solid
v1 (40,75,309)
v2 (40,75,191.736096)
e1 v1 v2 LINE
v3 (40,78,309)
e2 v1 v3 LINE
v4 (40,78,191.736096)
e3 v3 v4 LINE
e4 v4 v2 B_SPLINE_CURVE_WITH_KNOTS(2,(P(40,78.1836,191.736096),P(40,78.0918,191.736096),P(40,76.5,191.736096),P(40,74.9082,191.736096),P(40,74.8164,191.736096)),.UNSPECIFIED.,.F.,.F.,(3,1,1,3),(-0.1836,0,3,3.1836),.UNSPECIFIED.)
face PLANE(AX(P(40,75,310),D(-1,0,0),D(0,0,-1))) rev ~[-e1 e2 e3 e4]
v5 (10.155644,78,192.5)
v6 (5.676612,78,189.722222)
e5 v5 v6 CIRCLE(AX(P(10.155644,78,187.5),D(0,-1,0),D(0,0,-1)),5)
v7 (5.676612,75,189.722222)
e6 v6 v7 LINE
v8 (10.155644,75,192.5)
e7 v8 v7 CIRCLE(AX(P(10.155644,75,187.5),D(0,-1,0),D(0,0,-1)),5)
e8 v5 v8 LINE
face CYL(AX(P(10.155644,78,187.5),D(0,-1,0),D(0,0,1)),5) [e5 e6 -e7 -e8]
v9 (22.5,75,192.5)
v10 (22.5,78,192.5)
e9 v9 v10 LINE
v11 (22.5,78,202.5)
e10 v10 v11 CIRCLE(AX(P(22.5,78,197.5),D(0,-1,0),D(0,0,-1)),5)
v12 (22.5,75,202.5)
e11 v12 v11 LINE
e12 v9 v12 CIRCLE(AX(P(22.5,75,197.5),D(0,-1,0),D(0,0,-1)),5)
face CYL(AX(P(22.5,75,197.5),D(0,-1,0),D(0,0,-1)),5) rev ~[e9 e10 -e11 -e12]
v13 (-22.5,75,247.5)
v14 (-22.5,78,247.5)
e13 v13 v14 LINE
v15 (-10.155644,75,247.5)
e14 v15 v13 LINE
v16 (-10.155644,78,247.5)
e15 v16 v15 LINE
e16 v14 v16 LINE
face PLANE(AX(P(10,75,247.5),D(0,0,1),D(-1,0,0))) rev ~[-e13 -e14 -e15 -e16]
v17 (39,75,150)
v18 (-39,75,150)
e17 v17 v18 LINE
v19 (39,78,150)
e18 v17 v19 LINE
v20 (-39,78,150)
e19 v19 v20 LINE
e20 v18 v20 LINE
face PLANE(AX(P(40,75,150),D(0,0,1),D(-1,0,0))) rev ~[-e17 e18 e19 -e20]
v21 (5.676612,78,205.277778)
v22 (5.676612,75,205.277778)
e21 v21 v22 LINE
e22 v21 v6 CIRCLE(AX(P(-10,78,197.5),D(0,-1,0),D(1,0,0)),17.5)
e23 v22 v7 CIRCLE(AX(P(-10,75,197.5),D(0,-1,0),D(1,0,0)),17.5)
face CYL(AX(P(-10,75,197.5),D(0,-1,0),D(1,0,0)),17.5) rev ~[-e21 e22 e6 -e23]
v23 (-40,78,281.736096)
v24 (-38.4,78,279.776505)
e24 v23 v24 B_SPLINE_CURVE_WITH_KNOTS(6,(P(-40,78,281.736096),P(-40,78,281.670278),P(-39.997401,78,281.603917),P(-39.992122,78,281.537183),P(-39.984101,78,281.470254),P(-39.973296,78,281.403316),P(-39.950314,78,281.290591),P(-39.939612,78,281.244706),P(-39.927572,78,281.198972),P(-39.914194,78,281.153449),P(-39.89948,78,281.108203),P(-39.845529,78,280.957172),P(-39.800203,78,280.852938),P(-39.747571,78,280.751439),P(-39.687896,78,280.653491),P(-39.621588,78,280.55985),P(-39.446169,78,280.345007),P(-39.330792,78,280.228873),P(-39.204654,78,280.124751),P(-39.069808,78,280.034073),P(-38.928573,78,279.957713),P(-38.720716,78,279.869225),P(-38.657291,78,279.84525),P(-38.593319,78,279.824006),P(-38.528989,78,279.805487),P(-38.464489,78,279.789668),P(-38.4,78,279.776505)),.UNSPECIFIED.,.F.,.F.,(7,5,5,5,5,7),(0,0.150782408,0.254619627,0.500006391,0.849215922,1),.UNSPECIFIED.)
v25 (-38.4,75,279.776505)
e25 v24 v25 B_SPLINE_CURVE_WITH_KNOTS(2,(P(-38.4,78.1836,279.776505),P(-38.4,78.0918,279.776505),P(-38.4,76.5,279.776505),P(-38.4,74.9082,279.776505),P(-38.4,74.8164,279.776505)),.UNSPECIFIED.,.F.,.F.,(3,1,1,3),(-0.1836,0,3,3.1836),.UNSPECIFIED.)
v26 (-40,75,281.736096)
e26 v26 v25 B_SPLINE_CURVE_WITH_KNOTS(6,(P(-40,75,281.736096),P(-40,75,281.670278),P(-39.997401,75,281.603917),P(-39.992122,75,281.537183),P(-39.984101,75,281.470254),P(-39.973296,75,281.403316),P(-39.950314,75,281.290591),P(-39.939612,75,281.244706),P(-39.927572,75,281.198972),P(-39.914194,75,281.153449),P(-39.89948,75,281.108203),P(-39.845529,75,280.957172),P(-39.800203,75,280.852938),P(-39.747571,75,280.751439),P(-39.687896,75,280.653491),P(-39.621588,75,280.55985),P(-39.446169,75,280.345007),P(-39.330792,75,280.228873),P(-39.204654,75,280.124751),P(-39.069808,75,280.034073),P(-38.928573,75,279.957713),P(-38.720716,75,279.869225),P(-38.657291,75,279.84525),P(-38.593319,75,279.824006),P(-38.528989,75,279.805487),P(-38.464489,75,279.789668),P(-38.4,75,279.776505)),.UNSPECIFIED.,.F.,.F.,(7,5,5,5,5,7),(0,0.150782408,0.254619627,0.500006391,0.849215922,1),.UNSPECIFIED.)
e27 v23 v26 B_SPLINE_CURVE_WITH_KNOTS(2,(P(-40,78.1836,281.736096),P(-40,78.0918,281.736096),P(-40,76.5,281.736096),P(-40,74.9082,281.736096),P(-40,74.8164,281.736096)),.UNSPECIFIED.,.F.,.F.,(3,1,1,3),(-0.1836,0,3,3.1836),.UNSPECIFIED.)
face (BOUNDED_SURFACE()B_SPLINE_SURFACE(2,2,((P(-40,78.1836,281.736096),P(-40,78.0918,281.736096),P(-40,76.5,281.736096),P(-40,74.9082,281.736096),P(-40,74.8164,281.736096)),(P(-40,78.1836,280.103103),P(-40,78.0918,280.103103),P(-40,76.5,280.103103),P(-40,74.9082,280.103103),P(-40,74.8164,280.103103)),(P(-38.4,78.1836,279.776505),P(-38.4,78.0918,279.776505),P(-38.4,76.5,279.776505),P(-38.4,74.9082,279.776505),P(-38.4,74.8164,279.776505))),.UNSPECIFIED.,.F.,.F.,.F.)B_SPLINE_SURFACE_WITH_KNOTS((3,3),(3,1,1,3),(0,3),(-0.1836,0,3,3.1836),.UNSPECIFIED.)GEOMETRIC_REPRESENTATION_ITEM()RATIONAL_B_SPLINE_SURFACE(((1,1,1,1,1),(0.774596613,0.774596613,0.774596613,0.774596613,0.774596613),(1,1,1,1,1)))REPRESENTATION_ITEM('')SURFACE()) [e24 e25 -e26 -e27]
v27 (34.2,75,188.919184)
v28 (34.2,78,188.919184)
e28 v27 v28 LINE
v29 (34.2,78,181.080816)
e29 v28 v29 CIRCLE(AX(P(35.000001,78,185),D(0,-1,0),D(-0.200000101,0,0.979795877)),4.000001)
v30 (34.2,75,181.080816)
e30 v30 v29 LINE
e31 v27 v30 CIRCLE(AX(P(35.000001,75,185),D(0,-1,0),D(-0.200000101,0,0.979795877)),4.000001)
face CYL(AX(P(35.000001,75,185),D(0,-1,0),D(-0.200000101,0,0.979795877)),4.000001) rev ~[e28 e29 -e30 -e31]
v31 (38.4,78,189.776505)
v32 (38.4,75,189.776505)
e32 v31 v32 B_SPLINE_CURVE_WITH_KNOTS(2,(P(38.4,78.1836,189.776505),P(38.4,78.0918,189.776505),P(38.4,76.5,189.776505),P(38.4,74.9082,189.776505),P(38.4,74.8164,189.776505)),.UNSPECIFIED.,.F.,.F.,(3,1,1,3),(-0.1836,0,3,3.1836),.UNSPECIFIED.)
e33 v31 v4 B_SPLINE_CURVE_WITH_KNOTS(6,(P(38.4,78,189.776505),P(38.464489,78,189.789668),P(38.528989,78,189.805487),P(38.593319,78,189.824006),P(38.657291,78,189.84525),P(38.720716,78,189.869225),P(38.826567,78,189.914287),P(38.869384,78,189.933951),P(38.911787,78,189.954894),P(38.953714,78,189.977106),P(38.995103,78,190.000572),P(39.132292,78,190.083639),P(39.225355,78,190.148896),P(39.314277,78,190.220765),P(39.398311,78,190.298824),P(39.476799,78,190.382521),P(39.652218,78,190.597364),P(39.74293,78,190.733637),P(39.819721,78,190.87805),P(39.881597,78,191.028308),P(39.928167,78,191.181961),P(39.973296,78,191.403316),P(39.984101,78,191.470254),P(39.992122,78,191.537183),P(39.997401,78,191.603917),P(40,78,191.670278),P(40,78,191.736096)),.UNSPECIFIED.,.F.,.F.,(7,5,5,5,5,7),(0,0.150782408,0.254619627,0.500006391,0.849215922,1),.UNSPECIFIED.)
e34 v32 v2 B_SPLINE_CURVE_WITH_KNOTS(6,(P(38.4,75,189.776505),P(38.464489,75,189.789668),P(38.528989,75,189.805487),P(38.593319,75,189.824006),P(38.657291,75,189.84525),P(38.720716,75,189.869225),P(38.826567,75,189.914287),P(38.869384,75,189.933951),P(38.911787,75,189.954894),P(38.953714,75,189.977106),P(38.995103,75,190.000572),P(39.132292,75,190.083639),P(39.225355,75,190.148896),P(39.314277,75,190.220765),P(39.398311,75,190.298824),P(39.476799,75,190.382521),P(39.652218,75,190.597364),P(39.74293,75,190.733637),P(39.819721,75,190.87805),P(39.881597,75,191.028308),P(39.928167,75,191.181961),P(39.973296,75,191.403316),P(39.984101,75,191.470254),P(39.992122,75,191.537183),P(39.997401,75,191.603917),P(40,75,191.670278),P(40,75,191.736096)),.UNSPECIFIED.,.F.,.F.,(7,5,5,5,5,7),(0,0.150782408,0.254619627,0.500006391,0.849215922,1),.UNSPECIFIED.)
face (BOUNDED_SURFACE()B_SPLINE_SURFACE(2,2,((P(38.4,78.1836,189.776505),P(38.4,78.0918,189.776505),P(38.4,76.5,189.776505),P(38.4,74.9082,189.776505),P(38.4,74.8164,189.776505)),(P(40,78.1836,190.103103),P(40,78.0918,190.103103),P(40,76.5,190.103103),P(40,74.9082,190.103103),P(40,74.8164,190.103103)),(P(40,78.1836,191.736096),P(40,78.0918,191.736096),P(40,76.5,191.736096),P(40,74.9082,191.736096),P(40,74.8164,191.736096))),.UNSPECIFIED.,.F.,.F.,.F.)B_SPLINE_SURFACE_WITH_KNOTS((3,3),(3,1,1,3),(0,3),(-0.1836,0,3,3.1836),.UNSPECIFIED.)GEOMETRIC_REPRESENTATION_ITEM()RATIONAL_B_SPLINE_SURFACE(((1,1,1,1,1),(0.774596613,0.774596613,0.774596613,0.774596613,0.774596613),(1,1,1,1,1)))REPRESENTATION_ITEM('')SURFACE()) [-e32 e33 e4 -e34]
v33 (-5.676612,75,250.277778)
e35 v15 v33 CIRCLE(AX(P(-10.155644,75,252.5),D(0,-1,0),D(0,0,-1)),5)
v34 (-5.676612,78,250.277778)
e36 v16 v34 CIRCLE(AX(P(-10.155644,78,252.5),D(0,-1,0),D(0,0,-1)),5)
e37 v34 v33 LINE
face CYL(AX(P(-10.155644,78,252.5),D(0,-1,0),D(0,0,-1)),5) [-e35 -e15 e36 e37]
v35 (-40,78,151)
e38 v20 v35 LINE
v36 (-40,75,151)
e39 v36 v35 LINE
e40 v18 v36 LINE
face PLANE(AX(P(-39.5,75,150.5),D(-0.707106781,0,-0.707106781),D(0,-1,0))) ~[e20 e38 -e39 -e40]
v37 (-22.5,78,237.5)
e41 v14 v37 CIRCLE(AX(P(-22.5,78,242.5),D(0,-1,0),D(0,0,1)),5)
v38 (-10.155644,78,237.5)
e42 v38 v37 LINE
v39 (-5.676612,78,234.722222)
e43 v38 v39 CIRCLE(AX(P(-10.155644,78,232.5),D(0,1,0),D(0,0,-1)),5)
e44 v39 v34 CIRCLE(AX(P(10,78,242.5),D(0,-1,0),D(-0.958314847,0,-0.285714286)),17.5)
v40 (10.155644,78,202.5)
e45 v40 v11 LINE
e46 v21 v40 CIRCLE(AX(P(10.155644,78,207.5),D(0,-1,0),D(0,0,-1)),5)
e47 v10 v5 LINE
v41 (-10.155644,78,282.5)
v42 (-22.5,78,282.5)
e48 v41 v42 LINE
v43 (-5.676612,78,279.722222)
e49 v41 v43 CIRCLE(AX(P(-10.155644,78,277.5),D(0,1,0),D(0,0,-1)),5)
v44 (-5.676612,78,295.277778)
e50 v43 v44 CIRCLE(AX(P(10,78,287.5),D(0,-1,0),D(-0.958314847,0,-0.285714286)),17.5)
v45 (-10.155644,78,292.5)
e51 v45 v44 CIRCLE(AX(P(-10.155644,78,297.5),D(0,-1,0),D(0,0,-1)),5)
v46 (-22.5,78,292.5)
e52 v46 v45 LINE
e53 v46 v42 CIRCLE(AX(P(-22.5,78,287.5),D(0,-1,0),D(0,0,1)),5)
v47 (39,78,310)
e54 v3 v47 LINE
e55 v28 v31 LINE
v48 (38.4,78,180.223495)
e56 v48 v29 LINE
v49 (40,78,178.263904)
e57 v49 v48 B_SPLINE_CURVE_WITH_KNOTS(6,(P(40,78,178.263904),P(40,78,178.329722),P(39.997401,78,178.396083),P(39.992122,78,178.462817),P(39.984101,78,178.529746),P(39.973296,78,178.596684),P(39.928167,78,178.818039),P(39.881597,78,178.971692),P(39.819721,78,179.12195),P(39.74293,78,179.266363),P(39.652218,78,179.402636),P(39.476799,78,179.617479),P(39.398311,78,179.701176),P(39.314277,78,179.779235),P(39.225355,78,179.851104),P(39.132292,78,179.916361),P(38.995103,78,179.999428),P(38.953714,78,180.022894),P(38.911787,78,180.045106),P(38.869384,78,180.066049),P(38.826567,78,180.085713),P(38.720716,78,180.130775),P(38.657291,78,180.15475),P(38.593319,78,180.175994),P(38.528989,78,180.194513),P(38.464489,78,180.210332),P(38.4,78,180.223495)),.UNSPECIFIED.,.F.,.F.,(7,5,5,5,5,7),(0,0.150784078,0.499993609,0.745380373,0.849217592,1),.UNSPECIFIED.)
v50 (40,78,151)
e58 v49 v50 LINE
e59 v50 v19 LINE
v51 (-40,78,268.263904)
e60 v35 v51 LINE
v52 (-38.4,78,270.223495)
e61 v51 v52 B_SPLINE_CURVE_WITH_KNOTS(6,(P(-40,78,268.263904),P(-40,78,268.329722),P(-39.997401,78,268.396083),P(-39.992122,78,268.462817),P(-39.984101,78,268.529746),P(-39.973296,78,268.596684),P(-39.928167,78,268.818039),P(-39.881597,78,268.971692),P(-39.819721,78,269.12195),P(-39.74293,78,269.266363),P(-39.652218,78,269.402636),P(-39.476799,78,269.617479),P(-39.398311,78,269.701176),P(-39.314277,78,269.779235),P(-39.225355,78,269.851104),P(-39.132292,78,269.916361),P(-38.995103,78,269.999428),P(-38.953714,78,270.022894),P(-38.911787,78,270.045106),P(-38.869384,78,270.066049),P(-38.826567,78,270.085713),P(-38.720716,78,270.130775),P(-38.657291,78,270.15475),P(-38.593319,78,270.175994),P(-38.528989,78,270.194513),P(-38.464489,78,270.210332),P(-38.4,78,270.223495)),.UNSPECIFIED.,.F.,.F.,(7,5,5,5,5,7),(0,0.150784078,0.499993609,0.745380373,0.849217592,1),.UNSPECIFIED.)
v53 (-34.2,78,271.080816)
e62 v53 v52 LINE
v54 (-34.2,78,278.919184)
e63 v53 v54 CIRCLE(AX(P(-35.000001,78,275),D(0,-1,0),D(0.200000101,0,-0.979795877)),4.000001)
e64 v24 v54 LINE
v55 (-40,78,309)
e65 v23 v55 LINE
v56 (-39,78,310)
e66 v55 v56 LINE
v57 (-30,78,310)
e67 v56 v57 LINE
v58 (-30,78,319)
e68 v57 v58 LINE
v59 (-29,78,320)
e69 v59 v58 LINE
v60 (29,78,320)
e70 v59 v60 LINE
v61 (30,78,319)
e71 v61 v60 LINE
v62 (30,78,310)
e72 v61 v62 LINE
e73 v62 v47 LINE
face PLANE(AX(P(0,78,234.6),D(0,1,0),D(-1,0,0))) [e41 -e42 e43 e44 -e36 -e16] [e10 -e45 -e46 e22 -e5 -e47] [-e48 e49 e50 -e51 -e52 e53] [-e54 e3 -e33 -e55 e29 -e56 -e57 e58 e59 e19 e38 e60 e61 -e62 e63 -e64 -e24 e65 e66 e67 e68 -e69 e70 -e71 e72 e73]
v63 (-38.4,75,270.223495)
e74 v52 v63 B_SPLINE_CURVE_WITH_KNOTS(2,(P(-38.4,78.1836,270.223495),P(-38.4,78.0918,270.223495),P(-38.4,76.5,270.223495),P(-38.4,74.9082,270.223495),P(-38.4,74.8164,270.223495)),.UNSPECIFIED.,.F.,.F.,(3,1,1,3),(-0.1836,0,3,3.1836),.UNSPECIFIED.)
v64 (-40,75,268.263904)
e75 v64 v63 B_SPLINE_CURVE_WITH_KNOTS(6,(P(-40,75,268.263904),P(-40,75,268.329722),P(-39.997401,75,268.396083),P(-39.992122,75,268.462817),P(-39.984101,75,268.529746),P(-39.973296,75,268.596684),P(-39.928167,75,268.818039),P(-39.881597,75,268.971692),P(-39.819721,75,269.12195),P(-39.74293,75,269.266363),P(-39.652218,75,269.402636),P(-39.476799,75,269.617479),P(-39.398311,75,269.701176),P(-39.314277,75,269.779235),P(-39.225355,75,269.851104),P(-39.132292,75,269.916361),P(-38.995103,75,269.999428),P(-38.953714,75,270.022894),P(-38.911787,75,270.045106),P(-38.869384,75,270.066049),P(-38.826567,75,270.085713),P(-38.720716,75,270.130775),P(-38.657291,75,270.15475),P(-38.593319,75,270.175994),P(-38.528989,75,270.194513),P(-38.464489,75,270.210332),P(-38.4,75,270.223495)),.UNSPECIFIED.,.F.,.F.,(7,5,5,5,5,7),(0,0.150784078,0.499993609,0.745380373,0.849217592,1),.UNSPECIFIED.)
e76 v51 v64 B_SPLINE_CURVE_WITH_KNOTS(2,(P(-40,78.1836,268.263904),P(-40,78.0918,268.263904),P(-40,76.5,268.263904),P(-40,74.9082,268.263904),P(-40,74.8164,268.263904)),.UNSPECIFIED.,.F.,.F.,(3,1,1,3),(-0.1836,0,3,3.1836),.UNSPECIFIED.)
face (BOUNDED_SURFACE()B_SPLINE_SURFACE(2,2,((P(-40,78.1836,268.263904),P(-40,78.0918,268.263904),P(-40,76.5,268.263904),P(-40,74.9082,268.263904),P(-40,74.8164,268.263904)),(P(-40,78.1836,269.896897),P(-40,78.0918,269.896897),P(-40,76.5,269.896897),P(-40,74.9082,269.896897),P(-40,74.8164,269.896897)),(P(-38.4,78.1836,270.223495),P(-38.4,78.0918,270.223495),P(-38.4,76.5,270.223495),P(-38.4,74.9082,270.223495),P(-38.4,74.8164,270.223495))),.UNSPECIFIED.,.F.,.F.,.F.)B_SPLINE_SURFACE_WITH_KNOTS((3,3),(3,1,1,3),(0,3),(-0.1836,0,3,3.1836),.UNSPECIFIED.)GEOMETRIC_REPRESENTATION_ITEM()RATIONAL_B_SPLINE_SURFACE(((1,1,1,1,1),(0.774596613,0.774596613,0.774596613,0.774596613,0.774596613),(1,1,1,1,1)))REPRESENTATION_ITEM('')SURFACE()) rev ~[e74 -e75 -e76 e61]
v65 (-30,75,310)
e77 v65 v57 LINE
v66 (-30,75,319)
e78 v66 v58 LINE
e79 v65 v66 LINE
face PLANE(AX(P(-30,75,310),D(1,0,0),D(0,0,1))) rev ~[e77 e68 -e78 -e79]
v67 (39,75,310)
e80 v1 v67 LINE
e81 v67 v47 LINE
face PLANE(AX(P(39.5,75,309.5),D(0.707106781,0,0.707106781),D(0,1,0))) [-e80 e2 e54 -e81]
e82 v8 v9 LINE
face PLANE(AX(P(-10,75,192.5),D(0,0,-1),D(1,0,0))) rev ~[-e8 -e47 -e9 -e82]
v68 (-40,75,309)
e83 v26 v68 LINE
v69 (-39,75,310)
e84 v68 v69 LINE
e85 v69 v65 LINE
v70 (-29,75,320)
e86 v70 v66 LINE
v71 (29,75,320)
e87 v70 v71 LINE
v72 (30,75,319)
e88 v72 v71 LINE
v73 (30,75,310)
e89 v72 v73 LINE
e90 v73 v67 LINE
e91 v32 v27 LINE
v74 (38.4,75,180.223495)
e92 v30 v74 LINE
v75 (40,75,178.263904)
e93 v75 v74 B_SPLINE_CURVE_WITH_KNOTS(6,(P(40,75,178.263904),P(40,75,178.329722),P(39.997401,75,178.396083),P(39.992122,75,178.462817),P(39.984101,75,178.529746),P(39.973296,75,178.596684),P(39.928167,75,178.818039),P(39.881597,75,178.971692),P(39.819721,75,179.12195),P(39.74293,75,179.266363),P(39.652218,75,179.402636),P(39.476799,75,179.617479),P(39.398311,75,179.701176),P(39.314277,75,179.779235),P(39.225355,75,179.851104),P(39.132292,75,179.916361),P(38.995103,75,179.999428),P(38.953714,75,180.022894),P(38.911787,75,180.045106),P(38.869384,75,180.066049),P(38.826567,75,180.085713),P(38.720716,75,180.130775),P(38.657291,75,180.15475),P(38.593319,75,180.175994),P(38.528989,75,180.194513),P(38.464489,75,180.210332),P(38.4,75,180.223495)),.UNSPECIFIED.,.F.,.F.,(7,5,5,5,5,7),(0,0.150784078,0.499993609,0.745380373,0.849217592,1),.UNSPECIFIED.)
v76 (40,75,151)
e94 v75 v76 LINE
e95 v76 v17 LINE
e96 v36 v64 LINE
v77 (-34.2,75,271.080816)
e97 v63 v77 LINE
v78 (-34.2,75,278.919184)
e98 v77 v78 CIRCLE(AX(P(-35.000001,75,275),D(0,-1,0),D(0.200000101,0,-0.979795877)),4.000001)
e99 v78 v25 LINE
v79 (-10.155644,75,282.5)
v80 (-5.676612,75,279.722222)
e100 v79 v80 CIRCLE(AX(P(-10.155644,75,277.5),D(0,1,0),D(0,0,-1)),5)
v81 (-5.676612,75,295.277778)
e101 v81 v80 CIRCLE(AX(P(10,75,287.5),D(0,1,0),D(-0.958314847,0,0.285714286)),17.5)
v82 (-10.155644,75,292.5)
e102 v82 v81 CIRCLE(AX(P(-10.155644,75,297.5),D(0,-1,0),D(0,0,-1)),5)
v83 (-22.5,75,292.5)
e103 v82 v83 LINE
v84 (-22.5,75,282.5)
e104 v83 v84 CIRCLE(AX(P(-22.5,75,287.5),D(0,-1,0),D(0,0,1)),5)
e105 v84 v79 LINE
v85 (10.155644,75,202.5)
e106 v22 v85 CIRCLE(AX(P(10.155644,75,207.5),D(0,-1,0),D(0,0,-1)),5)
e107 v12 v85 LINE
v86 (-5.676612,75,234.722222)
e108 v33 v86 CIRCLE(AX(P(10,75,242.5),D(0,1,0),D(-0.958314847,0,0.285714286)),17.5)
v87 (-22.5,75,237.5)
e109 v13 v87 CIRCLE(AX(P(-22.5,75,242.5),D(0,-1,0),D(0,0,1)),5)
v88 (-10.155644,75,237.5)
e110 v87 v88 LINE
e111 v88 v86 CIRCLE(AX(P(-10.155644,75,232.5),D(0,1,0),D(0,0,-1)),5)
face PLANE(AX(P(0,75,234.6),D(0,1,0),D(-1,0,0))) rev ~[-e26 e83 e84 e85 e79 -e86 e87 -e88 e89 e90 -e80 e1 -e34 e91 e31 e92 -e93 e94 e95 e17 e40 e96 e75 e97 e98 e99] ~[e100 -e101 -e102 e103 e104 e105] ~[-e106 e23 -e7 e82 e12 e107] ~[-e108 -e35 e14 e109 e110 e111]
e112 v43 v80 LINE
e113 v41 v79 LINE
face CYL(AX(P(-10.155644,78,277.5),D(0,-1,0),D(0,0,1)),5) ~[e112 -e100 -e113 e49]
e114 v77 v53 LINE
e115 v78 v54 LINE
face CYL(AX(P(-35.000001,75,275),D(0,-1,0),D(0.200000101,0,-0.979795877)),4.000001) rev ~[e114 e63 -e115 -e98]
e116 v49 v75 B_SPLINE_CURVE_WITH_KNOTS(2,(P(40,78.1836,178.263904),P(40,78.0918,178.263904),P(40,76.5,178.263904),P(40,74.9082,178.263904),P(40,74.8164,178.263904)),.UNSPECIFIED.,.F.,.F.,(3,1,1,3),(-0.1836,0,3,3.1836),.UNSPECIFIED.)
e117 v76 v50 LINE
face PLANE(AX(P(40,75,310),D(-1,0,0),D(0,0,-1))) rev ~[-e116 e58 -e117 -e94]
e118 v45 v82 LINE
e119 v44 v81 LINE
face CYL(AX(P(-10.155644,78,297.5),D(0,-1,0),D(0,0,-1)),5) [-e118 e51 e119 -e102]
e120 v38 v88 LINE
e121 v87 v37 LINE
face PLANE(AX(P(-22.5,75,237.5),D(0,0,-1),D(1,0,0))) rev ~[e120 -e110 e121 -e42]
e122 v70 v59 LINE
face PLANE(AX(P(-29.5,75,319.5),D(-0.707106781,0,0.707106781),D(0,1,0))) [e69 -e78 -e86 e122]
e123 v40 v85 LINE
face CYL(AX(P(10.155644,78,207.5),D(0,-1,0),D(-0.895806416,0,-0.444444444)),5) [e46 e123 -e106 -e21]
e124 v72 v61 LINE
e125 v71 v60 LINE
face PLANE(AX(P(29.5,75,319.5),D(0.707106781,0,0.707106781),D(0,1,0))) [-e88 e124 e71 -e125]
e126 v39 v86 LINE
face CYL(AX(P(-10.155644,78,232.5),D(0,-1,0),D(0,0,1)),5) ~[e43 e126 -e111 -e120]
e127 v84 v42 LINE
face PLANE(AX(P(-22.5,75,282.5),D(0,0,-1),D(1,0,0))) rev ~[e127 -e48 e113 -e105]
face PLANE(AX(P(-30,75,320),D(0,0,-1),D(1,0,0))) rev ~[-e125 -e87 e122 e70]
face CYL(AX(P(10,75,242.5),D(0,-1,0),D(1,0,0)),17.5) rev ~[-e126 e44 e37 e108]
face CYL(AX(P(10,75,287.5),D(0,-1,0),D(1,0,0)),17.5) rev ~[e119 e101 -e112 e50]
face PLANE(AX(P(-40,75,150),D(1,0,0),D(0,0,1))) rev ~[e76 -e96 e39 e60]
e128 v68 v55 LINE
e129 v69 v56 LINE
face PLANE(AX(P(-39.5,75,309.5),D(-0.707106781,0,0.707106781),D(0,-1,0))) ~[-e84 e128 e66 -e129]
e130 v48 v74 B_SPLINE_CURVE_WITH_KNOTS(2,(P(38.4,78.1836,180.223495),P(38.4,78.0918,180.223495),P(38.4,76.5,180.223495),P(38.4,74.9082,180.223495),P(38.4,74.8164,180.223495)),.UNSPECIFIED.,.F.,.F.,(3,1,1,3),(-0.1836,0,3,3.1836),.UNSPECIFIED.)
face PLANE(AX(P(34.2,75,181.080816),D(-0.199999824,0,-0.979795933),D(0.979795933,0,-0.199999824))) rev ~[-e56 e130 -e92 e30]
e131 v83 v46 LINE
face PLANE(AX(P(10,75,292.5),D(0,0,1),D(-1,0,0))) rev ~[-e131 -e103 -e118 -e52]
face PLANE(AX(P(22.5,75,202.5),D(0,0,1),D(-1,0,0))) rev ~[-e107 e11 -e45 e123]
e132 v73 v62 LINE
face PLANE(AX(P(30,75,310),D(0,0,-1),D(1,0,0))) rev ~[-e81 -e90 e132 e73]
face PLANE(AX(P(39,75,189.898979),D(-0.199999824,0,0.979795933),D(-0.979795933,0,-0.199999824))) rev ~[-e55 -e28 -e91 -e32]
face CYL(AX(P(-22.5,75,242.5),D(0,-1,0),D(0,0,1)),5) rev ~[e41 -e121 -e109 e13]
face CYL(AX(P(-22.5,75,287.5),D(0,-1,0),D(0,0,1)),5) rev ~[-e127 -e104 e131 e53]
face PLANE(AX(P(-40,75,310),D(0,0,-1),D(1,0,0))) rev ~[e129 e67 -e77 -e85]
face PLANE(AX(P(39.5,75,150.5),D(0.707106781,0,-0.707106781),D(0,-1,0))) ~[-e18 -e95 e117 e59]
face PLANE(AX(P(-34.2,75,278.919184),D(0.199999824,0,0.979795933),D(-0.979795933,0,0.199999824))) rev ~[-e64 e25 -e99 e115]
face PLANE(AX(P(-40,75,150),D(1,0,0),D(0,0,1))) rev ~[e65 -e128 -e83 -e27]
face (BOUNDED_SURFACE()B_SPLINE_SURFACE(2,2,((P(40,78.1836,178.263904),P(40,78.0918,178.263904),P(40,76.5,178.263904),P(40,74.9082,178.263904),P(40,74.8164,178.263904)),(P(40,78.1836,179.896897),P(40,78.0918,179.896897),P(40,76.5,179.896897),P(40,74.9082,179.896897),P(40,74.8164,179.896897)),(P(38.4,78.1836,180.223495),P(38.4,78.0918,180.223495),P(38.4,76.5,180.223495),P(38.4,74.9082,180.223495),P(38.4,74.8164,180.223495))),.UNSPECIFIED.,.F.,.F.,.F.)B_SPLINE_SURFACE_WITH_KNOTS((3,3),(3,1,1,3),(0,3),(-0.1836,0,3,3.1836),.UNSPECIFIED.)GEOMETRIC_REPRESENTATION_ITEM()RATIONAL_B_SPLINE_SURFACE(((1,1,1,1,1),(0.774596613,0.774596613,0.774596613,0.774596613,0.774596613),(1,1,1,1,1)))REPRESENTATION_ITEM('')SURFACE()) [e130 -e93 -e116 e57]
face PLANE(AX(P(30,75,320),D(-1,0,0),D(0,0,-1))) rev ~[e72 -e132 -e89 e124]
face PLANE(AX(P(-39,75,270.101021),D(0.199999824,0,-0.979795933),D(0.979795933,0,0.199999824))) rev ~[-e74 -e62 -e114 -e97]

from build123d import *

# Parameters (mm, degrees)
SKETCH226_R     = 17.5
PAD114_DEPTH    = 3
POCKET054_DEPTH = 3.001
FILLET072_R     = 2
CHAMFER079_SIZE = 1
POCKET055_DEPTH = 5
FILLET073_R     = 5


with BuildPart() as part:
    # Sketch226 → Pad114 (new body)
    with BuildSketch(Plane.XZ):
        Polygon((40, 150), (-40, 150), (-40, 310), (-30, 310), (-30, 320), (30, 320), (30, 310), (40, 310), align=None)
        with Locations((10, 287.5)):
            Circle(SKETCH226_R, mode=Mode.SUBTRACT)
        with Locations((10, 242.5)):
            Circle(SKETCH226_R, mode=Mode.SUBTRACT)
        with Locations((-10, 197.5)):
            Circle(SKETCH226_R, mode=Mode.SUBTRACT)
    extrude(amount=-PAD114_DEPTH)

    # Sketch227 → Pocket054 (cut, through all)
    with BuildSketch(Plane.XZ):
        with BuildLine():
            ThreePointArc((-39, 279.898979), (-45, 275), (-39, 270.101021))
            Line((-39, 270.101021), (-34.2, 271.080816))
            ThreePointArc((-34.2, 271.080816), (-31, 275), (-34.2, 278.919184))
            Line((-34.2, 278.919184), (-39, 279.898979))
        make_face()
        with BuildLine():
            ThreePointArc((39, 180.101021), (45, 185), (39, 189.898979))
            Line((39, 189.898979), (34.2, 188.919184))
            ThreePointArc((34.2, 188.919184), (31, 185), (34.2, 181.080816))
            Line((34.2, 181.080816), (39, 180.101021))
        make_face()
    extrude(amount=-POCKET054_DEPTH, mode=Mode.SUBTRACT)

    # Fillet072
    fillet072_edges = [part.edges().sort_by_distance(p)[0] for p in [
        (40, 1.5, 180),
        (40, 1.5, 190),
        (-40, 1.5, 270),
        (-40, 1.5, 280),
    ]]
    fillet(fillet072_edges, radius=FILLET072_R)

    # Chamfer079
    chamfer079_edges = [part.edges().sort_by_distance(p)[0] for p in [
        (-30, 1.5, 320),
        (-40, 1.5, 310),
        (30, 1.5, 320),
        (40, 1.5, 310),
        (-40, 1.5, 150),
        (40, 1.5, 150),
    ]]
    chamfer(chamfer079_edges, length=CHAMFER079_SIZE)

    # Sketch228 → Pocket055 (cut)
    with BuildSketch(Plane.XZ):
        with BuildLine():
            ThreePointArc((10, 282.5), (15, 287.5), (10, 292.5))
            Line((10, 292.5), (-22.5, 292.5))
            ThreePointArc((-22.5, 292.5), (-27.5, 287.5), (-22.5, 282.5))
            Line((-22.5, 282.5), (10, 282.5))
        make_face()
        with BuildLine():
            ThreePointArc((10, 237.5), (15, 242.5), (10, 247.5))
            Line((10, 247.5), (-22.5, 247.5))
            ThreePointArc((-22.5, 247.5), (-27.5, 242.5), (-22.5, 237.5))
            Line((-22.5, 237.5), (10, 237.5))
        make_face()
        with BuildLine():
            ThreePointArc((-10, 202.5), (-15, 197.5), (-10, 192.5))
            Line((-10, 192.5), (22.5, 192.5))
            ThreePointArc((22.5, 192.5), (27.5, 197.5), (22.5, 202.5))
            Line((22.5, 202.5), (-10, 202.5))
        make_face()
    extrude(amount=-POCKET055_DEPTH, mode=Mode.SUBTRACT)

    # Fillet073
    fillet073_edges = [part.edges().sort_by_distance(p)[0] for p in [
        (-6.77051, 1.5, 292.5),
        (-6.77051, 1.5, 282.5),
        (-6.77051, 1.5, 237.5),
        (-6.77051, 1.5, 247.5),
        (6.77051, 1.5, 192.5),
        (6.77051, 1.5, 202.5),
    ]]
    fillet(fillet073_edges, radius=FILLET073_R)


with BuildPart() as part_1:
    # Body098 placement: moved
    add(part.part.moved(Location((0, 75, 0))))


solid = part_1.part
